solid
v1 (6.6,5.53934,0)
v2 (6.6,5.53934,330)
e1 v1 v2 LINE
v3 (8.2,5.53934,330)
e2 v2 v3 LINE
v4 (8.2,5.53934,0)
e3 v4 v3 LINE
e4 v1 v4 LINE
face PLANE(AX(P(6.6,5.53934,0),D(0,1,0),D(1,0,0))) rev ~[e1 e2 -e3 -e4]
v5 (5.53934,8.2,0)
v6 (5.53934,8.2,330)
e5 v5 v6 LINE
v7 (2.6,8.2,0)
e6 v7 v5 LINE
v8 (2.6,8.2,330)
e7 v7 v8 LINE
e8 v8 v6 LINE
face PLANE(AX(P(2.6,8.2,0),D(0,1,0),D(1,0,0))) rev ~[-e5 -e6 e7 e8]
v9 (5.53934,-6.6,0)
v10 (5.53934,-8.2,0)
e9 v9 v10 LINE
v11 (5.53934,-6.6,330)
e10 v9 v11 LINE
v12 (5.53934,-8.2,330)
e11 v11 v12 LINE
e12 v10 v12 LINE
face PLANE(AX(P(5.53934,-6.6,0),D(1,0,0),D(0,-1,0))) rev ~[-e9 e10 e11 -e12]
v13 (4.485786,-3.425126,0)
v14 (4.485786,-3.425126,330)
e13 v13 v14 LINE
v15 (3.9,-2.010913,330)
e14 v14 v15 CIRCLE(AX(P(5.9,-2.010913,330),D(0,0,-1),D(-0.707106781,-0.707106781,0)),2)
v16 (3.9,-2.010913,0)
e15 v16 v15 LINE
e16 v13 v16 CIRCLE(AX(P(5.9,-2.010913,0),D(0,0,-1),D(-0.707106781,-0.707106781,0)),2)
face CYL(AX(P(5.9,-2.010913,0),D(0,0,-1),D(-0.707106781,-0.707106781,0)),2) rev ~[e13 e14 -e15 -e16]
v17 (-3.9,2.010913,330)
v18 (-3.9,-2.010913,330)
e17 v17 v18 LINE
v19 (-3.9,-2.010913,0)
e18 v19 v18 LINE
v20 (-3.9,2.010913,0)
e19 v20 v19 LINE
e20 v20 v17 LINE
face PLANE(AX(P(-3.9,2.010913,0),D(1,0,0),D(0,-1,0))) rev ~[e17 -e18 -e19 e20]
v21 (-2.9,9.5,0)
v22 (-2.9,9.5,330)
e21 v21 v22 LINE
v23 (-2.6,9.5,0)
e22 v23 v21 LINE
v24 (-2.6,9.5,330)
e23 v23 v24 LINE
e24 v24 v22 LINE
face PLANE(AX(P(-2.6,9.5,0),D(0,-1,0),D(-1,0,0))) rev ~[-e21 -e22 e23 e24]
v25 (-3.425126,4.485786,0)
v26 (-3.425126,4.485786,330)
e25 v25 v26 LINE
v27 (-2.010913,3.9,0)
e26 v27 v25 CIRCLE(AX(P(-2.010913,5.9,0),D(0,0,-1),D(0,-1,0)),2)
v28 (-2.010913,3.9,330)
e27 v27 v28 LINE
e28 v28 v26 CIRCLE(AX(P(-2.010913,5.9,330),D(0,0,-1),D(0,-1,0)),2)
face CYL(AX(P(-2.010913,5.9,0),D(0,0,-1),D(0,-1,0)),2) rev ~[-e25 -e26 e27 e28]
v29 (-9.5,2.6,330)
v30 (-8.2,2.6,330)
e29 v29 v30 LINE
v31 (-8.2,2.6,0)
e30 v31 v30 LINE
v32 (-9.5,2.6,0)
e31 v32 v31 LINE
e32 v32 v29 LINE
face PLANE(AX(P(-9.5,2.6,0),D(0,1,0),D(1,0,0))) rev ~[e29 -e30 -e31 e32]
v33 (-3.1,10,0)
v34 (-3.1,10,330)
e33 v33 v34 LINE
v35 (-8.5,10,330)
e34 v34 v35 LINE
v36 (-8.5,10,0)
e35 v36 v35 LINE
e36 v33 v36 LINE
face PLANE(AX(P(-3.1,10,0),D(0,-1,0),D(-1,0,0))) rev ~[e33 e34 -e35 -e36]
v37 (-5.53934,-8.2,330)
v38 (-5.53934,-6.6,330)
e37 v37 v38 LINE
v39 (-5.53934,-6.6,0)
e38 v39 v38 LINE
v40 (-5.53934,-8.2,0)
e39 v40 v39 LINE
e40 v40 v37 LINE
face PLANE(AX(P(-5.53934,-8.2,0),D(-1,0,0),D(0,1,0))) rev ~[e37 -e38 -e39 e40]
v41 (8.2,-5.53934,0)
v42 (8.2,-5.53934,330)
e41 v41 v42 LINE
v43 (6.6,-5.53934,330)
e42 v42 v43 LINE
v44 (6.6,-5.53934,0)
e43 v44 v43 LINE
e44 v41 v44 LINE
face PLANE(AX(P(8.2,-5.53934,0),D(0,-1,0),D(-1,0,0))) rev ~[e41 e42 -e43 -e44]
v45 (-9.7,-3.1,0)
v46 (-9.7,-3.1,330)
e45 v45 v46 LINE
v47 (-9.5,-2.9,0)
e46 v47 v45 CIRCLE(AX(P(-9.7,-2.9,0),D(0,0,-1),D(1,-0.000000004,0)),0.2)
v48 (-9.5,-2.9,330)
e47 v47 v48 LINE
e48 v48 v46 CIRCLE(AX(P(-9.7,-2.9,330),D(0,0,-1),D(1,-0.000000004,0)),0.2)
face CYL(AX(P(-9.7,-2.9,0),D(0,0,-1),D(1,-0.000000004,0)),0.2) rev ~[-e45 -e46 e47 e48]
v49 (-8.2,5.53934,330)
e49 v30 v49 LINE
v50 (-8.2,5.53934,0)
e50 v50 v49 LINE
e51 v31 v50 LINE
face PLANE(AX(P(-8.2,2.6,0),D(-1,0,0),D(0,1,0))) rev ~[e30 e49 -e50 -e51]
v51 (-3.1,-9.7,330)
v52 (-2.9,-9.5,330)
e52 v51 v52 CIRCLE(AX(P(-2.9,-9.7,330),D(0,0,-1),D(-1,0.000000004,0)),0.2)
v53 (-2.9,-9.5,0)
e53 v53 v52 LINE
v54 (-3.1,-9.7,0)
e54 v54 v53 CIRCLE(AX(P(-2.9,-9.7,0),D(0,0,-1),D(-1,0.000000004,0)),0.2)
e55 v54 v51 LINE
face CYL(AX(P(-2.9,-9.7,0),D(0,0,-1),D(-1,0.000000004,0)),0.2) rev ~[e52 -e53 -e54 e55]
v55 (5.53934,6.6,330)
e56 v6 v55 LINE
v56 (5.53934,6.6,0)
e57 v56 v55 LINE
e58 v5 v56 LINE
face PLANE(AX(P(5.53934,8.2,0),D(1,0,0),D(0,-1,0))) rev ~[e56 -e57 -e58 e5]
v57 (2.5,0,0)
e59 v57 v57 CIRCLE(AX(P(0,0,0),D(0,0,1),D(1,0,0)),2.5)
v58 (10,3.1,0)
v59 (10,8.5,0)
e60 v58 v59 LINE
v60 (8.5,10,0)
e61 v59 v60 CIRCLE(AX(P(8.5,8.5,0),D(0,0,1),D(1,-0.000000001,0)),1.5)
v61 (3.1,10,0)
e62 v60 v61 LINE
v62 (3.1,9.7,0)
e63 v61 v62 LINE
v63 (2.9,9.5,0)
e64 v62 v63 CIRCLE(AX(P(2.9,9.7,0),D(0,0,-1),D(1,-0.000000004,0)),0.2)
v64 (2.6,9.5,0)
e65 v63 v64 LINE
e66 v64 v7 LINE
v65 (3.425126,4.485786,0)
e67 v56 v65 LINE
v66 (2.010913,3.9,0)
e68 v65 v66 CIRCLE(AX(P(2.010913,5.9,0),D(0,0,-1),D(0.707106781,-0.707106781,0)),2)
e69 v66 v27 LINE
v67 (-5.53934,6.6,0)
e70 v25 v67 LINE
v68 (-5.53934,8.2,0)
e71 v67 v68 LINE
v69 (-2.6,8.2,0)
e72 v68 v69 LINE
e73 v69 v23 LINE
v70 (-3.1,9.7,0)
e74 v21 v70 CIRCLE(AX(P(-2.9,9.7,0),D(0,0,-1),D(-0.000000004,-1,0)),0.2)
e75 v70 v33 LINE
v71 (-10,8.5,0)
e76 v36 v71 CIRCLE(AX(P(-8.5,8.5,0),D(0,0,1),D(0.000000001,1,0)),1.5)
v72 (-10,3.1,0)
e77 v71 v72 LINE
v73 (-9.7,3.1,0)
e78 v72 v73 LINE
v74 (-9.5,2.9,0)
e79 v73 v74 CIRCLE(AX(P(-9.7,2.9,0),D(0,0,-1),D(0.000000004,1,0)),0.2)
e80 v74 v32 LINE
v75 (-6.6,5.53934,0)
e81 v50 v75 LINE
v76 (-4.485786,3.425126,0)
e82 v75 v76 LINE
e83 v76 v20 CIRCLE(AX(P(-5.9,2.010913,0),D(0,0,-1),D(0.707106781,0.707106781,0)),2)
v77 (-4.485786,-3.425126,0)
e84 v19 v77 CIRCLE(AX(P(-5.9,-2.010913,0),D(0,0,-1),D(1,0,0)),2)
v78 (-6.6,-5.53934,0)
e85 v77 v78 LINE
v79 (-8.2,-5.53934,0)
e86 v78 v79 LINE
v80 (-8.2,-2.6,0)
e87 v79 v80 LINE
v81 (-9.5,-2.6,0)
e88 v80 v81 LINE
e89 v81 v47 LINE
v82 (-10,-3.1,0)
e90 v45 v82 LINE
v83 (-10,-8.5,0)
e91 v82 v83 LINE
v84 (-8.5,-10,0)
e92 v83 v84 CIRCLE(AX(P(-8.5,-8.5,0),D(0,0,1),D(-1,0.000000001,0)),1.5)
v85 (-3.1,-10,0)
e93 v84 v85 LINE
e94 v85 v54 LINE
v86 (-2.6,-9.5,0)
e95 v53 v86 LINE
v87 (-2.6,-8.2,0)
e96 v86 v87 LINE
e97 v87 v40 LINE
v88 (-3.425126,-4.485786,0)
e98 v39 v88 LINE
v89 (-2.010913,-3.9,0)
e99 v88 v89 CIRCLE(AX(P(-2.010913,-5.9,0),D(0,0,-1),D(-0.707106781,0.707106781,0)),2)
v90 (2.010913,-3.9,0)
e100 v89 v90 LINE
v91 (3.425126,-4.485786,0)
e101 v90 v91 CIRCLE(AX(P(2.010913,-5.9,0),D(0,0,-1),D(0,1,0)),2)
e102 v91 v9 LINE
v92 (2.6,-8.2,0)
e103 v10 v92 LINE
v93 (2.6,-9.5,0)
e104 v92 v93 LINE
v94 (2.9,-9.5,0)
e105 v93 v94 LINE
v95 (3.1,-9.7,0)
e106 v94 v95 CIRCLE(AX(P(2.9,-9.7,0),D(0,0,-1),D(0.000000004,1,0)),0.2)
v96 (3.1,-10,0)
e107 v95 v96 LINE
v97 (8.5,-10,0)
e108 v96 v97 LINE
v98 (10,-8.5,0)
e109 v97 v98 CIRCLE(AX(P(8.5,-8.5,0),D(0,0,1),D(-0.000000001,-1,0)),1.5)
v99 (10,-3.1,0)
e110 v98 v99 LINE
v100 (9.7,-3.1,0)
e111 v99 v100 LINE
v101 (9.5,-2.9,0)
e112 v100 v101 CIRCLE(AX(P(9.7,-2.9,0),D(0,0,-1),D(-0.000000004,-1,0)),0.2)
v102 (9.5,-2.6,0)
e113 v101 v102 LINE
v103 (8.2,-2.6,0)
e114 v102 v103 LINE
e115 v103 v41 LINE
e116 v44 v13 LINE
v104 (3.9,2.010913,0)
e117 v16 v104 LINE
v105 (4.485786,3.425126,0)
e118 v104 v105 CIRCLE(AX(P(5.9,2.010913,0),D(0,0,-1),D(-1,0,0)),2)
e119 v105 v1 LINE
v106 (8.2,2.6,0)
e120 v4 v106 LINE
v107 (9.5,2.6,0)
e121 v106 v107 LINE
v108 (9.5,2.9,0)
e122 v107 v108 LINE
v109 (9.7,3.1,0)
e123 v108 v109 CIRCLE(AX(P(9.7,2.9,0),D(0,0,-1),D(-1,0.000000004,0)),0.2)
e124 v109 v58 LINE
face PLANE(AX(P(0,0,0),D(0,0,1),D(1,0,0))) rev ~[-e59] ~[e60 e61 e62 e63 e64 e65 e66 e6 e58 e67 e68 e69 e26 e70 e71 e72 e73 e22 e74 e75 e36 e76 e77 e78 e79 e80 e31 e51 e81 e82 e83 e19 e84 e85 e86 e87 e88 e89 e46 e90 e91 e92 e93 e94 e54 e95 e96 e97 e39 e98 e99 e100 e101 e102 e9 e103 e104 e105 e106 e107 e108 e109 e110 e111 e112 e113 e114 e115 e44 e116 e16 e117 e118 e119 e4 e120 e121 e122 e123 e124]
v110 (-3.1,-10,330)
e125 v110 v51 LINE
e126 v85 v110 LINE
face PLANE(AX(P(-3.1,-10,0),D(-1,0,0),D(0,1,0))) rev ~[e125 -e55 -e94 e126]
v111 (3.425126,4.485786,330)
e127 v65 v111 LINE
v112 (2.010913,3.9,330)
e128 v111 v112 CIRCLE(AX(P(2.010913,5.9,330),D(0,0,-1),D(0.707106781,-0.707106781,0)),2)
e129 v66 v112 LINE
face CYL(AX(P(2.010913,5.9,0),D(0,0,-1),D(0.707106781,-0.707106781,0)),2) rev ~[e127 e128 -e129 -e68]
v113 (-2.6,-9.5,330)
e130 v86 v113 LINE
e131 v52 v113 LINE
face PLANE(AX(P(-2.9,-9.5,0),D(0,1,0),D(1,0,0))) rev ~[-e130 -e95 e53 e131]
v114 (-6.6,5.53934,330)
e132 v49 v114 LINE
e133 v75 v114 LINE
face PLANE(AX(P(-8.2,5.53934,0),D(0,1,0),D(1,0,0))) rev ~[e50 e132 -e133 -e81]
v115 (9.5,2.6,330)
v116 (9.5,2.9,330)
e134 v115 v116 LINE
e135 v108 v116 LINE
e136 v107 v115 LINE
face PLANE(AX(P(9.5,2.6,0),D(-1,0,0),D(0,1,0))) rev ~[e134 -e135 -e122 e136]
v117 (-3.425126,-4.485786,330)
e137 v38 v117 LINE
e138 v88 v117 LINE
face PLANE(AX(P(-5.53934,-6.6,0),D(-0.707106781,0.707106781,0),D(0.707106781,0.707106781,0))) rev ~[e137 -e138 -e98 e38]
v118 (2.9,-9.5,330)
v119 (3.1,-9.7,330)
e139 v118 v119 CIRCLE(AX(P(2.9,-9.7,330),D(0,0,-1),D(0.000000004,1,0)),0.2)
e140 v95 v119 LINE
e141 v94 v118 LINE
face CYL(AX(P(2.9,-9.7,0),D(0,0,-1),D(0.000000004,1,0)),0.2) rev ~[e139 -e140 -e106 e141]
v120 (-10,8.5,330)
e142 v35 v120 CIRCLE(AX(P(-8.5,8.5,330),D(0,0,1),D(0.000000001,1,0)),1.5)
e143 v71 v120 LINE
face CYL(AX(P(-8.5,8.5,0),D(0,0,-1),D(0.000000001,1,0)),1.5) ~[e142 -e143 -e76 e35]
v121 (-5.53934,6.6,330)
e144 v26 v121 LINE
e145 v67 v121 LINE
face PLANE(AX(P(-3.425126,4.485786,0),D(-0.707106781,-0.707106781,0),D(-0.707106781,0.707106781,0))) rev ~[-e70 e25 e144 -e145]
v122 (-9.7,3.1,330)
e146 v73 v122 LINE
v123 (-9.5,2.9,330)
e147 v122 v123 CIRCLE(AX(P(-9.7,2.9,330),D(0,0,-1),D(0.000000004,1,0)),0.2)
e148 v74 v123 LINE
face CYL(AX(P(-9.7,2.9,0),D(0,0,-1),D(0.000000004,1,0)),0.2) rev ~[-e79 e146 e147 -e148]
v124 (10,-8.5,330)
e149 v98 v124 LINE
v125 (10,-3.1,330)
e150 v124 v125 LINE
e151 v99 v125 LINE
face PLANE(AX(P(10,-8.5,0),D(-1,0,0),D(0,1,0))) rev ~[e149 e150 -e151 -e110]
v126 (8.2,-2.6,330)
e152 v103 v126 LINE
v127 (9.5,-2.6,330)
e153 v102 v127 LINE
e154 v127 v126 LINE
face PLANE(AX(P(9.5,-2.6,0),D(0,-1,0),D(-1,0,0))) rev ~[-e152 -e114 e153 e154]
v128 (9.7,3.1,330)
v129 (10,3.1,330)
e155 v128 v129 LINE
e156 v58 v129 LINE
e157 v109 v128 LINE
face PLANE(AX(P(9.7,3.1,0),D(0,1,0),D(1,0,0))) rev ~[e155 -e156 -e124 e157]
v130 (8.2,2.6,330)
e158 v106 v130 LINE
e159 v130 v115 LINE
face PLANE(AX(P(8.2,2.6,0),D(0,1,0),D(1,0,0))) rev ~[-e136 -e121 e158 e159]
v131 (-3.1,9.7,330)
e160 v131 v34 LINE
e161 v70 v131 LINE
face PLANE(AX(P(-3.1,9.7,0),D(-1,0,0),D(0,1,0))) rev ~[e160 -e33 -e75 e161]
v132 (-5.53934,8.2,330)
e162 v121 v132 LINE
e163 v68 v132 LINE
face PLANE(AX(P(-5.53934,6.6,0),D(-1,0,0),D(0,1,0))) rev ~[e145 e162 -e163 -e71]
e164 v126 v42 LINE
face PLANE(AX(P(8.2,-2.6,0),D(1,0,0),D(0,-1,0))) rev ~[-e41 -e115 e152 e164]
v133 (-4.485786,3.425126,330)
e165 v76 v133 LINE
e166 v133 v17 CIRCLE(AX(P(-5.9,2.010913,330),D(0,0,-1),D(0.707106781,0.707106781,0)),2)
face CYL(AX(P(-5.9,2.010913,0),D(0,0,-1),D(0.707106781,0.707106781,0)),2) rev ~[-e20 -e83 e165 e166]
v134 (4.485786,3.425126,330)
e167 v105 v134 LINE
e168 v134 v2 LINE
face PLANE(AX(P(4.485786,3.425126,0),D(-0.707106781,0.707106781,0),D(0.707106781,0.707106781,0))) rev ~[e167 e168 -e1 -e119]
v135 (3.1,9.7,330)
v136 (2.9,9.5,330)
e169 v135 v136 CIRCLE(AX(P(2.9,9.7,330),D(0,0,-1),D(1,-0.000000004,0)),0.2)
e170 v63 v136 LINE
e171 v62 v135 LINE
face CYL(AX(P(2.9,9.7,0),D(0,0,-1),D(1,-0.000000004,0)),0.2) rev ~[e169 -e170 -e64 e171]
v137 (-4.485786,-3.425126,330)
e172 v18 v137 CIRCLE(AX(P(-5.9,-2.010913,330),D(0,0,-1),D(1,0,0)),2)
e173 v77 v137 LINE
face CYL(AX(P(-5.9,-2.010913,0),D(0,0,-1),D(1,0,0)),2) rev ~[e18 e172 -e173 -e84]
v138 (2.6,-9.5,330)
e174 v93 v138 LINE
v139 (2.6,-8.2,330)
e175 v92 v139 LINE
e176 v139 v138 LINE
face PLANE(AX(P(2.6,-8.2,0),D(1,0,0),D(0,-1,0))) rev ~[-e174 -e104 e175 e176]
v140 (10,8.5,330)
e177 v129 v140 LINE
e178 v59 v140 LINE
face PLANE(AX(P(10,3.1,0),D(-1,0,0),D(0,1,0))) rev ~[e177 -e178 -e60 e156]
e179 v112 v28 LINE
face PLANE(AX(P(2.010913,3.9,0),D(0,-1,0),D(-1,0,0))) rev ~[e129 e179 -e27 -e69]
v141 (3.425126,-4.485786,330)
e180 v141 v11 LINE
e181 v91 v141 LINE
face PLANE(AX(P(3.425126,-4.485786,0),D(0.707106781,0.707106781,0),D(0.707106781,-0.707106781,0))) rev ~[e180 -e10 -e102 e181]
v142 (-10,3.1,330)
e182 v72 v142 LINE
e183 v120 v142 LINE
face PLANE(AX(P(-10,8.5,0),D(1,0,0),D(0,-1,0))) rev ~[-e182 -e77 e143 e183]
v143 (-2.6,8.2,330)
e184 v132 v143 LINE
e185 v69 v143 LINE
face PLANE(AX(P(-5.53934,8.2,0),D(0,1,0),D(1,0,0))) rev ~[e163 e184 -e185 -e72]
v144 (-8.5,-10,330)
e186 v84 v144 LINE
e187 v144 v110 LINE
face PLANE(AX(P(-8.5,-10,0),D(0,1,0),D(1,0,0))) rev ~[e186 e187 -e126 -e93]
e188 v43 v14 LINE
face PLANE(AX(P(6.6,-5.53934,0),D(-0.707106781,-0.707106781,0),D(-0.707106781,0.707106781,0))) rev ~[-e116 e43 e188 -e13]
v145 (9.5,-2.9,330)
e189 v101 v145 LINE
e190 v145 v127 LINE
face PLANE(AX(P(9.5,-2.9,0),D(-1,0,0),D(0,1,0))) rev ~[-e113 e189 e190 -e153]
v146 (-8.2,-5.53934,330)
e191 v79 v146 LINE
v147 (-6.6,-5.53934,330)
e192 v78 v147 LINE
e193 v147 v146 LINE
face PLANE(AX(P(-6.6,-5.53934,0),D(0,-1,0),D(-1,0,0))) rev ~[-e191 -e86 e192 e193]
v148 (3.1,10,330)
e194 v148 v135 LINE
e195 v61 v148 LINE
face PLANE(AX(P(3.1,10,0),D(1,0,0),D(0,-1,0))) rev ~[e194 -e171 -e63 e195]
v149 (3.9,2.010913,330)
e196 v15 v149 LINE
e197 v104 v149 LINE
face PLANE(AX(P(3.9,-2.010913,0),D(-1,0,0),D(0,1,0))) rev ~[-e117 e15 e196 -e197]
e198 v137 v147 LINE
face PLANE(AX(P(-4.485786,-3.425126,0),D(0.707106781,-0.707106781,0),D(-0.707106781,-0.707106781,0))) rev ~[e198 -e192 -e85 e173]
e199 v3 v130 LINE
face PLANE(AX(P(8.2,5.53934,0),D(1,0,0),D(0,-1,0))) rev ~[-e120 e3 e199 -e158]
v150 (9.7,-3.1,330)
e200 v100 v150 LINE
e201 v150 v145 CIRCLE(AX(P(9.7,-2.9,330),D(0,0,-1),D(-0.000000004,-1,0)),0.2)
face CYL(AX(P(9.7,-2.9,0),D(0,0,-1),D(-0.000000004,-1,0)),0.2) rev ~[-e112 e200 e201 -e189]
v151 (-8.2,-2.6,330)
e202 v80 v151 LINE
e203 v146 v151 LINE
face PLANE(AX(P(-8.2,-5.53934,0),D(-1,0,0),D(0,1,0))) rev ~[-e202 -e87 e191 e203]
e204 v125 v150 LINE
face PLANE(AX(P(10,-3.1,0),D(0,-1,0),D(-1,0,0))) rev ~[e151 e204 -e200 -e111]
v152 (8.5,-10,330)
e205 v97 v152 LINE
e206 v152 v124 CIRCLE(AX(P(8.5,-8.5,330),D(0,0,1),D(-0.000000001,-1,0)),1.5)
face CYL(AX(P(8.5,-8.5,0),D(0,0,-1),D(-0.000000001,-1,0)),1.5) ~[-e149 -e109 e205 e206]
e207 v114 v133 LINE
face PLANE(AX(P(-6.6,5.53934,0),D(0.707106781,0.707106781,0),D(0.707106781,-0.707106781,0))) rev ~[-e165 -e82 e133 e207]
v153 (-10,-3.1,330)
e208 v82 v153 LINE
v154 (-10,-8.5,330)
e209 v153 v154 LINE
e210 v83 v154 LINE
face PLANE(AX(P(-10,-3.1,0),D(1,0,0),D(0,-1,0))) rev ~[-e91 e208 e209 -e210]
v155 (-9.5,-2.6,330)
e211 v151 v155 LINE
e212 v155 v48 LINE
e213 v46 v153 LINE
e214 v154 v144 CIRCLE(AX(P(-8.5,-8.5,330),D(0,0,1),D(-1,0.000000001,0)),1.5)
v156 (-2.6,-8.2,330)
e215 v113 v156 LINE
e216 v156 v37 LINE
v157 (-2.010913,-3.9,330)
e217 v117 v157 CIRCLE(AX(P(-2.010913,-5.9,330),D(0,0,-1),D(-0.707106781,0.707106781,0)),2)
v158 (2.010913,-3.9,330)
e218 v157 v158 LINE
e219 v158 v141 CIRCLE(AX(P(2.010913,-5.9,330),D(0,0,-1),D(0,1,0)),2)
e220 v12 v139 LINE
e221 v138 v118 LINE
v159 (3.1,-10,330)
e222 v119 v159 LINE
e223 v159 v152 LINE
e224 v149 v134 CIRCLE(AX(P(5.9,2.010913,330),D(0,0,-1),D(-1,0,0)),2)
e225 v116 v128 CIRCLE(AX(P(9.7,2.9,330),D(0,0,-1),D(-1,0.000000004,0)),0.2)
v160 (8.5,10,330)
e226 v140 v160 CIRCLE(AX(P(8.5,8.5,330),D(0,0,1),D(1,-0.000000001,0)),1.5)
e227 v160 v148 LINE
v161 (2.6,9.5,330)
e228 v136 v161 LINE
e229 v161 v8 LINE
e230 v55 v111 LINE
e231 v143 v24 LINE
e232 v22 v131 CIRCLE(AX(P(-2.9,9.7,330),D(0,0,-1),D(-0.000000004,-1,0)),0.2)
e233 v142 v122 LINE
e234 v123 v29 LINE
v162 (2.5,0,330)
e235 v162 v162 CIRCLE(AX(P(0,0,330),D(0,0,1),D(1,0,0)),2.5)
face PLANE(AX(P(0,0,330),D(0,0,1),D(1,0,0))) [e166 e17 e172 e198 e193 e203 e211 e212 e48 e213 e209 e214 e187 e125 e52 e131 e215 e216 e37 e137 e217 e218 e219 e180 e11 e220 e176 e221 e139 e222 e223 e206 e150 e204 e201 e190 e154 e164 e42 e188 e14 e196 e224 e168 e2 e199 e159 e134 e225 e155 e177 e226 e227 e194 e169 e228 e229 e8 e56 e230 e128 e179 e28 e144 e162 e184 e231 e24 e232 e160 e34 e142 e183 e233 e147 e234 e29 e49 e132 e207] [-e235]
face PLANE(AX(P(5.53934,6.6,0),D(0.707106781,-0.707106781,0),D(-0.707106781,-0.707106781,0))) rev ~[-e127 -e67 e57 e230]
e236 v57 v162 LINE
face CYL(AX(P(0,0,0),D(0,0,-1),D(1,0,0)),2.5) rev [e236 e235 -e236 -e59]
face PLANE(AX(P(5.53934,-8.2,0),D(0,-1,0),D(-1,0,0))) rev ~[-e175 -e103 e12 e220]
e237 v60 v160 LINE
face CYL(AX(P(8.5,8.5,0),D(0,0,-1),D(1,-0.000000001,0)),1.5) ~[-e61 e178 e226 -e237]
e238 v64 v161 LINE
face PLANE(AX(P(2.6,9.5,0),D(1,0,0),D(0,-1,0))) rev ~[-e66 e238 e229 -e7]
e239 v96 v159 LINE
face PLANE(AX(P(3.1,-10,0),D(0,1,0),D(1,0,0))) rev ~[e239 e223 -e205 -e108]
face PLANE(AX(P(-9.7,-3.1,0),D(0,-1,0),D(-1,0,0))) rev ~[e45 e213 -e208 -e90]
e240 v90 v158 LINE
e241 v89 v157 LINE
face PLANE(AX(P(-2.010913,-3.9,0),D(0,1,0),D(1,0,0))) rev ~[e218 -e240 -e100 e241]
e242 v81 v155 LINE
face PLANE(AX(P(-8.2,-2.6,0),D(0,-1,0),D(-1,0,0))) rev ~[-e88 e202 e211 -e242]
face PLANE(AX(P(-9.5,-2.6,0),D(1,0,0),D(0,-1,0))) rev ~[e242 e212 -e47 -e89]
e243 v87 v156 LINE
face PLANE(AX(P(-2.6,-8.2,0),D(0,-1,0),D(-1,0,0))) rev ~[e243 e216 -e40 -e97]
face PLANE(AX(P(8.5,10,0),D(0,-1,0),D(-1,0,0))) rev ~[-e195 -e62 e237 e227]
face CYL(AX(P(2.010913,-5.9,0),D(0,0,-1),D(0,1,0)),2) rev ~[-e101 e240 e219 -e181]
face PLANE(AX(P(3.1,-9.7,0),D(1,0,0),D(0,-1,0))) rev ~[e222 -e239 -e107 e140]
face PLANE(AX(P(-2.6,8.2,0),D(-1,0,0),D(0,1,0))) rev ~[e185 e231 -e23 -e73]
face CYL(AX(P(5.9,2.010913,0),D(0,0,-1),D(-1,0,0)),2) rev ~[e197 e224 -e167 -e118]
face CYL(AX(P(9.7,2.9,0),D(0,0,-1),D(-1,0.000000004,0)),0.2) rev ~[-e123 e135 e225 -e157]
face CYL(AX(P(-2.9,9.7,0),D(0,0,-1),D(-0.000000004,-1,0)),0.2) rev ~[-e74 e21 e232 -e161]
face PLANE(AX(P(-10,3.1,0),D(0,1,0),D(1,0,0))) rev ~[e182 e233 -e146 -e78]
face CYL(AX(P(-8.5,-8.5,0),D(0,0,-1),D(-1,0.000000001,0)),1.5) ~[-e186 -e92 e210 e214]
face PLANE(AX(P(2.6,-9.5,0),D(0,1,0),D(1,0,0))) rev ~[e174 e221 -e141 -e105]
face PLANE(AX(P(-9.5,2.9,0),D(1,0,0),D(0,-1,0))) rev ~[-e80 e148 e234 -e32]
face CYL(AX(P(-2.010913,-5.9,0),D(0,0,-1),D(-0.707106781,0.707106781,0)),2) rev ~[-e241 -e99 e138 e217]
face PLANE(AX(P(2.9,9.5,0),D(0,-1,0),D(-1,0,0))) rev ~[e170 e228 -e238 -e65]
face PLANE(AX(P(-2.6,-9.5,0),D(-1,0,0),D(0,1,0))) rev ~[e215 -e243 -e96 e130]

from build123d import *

# Parameters (mm, degrees)
SKETCH1_R      = 2.5
EXTRUDE1_DEPTH = 330


with BuildPart() as part:
    # Sketch1 → Extrude1 (new body)
    with BuildSketch(Plane.XY):
        with BuildLine():
            Line((0, 3.9), (-2.010912703, 3.9))
            ThreePointArc((-2.010912703, 3.9), (-2.776279568, 4.052240935), (-3.425126266, 4.485786438))
            Line((-3.425126266, 4.485786438), (-5.539339828, 6.6))
            Line((-5.539339828, 6.6), (-5.539339828, 8.2))
            Line((-5.539339828, 8.2), (-2.6, 8.2))
            Line((-2.6, 8.2), (-2.6, 9.5))
            Line((-2.6, 9.5), (-2.9, 9.5))
            ThreePointArc((-2.9, 9.5), (-3.041421356, 9.558578644), (-3.1, 9.7))
            Line((-3.1, 9.7), (-3.1, 10))
            Line((-3.1, 10), (-8.5, 10))
            ThreePointArc((-8.5, 10), (-9.560660172, 9.560660172), (-10, 8.5))
            Line((-10, 8.5), (-10, 3.1))
            Line((-10, 3.1), (-9.7, 3.1))
            ThreePointArc((-9.7, 3.1), (-9.558578644, 3.041421356), (-9.5, 2.9))
            Line((-9.5, 2.9), (-9.5, 2.6))
            Line((-9.5, 2.6), (-8.2, 2.6))
            Line((-8.2, 2.6), (-8.2, 5.539339828))
            Line((-8.2, 5.539339828), (-6.6, 5.539339828))
            Line((-6.6, 5.539339828), (-4.485786438, 3.425126266))
            ThreePointArc((-4.485786438, 3.425126266), (-4.052240935, 2.776279568), (-3.9, 2.010912703))
            Line((-3.9, 2.010912703), (-3.9, 0))
            Line((-3.9, 0), (-3.9, -2.010912703))
            ThreePointArc((-3.9, -2.010912703), (-4.052240935, -2.776279568), (-4.485786438, -3.425126266))
            Line((-4.485786438, -3.425126266), (-6.6, -5.539339828))
            Line((-6.6, -5.539339828), (-8.2, -5.539339828))
            Line((-8.2, -5.539339828), (-8.2, -2.6))
            Line((-8.2, -2.6), (-9.5, -2.6))
            Line((-9.5, -2.6), (-9.5, -2.9))
            ThreePointArc((-9.5, -2.9), (-9.558578644, -3.041421356), (-9.7, -3.1))
            Line((-9.7, -3.1), (-10, -3.1))
            Line((-10, -3.1), (-10, -8.5))
            ThreePointArc((-10, -8.5), (-9.560660172, -9.560660172), (-8.5, -10))
            Line((-8.5, -10), (-3.1, -10))
            Line((-3.1, -10), (-3.1, -9.7))
            ThreePointArc((-3.1, -9.7), (-3.041421356, -9.558578644), (-2.9, -9.5))
            Line((-2.9, -9.5), (-2.6, -9.5))
            Line((-2.6, -9.5), (-2.6, -8.2))
            Line((-2.6, -8.2), (-5.539339828, -8.2))
            Line((-5.539339828, -8.2), (-5.539339828, -6.6))
            Line((-5.539339828, -6.6), (-3.425126266, -4.485786438))
            ThreePointArc((-3.425126266, -4.485786438), (-2.776279568, -4.052240935), (-2.010912703, -3.9))
            Line((-2.010912703, -3.9), (0, -3.9))
            Line((0, -3.9), (2.010912703, -3.9))
            ThreePointArc((2.010912703, -3.9), (2.776279568, -4.052240935), (3.425126266, -4.485786438))
            Line((3.425126266, -4.485786438), (5.539339828, -6.6))
            Line((5.539339828, -6.6), (5.539339828, -8.2))
            Line((5.539339828, -8.2), (2.6, -8.2))
            Line((2.6, -8.2), (2.6, -9.5))
            Line((2.6, -9.5), (2.9, -9.5))
            ThreePointArc((2.9, -9.5), (3.041421356, -9.558578644), (3.1, -9.7))
            Line((3.1, -9.7), (3.1, -10))
            Line((3.1, -10), (8.5, -10))
            ThreePointArc((8.5, -10), (9.560660172, -9.560660172), (10, -8.5))
            Line((10, -8.5), (10, -3.1))
            Line((10, -3.1), (9.7, -3.1))
            ThreePointArc((9.7, -3.1), (9.558578644, -3.041421356), (9.5, -2.9))
            Line((9.5, -2.9), (9.5, -2.6))
            Line((9.5, -2.6), (8.2, -2.6))
            Line((8.2, -2.6), (8.2, -5.539339828))
            Line((8.2, -5.539339828), (6.6, -5.539339828))
            Line((6.6, -5.539339828), (4.485786438, -3.425126266))
            ThreePointArc((4.485786438, -3.425126266), (4.052240935, -2.776279568), (3.9, -2.010912703))
            Line((3.9, -2.010912703), (3.9, 0))
            Line((3.9, 0), (3.9, 2.010912703))
            ThreePointArc((3.9, 2.010912703), (4.052240935, 2.776279568), (4.485786438, 3.425126266))
            Line((4.485786438, 3.425126266), (6.6, 5.539339828))
            Line((6.6, 5.539339828), (8.2, 5.539339828))
            Line((8.2, 5.539339828), (8.2, 2.6))
            Line((8.2, 2.6), (9.5, 2.6))
            Line((9.5, 2.6), (9.5, 2.9))
            ThreePointArc((9.5, 2.9), (9.558578644, 3.041421356), (9.7, 3.1))
            Line((9.7, 3.1), (10, 3.1))
            Line((10, 3.1), (10, 8.5))
            ThreePointArc((10, 8.5), (9.560660172, 9.560660172), (8.5, 10))
            Line((8.5, 10), (3.1, 10))
            Line((3.1, 10), (3.1, 9.7))
            ThreePointArc((3.1, 9.7), (3.041421356, 9.558578644), (2.9, 9.5))
            Line((2.9, 9.5), (2.6, 9.5))
            Line((2.6, 9.5), (2.6, 8.2))
            Line((2.6, 8.2), (5.539339828, 8.2))
            Line((5.539339828, 8.2), (5.539339828, 6.6))
            Line((5.539339828, 6.6), (3.425126266, 4.485786438))
            ThreePointArc((3.425126266, 4.485786438), (2.776279568, 4.052240935), (2.010912703, 3.9))
            Line((2.010912703, 3.9), (0, 3.9))
        make_face()
        Circle(SKETCH1_R, mode=Mode.SUBTRACT)
    extrude(amount=EXTRUDE1_DEPTH)


solid = part.part
